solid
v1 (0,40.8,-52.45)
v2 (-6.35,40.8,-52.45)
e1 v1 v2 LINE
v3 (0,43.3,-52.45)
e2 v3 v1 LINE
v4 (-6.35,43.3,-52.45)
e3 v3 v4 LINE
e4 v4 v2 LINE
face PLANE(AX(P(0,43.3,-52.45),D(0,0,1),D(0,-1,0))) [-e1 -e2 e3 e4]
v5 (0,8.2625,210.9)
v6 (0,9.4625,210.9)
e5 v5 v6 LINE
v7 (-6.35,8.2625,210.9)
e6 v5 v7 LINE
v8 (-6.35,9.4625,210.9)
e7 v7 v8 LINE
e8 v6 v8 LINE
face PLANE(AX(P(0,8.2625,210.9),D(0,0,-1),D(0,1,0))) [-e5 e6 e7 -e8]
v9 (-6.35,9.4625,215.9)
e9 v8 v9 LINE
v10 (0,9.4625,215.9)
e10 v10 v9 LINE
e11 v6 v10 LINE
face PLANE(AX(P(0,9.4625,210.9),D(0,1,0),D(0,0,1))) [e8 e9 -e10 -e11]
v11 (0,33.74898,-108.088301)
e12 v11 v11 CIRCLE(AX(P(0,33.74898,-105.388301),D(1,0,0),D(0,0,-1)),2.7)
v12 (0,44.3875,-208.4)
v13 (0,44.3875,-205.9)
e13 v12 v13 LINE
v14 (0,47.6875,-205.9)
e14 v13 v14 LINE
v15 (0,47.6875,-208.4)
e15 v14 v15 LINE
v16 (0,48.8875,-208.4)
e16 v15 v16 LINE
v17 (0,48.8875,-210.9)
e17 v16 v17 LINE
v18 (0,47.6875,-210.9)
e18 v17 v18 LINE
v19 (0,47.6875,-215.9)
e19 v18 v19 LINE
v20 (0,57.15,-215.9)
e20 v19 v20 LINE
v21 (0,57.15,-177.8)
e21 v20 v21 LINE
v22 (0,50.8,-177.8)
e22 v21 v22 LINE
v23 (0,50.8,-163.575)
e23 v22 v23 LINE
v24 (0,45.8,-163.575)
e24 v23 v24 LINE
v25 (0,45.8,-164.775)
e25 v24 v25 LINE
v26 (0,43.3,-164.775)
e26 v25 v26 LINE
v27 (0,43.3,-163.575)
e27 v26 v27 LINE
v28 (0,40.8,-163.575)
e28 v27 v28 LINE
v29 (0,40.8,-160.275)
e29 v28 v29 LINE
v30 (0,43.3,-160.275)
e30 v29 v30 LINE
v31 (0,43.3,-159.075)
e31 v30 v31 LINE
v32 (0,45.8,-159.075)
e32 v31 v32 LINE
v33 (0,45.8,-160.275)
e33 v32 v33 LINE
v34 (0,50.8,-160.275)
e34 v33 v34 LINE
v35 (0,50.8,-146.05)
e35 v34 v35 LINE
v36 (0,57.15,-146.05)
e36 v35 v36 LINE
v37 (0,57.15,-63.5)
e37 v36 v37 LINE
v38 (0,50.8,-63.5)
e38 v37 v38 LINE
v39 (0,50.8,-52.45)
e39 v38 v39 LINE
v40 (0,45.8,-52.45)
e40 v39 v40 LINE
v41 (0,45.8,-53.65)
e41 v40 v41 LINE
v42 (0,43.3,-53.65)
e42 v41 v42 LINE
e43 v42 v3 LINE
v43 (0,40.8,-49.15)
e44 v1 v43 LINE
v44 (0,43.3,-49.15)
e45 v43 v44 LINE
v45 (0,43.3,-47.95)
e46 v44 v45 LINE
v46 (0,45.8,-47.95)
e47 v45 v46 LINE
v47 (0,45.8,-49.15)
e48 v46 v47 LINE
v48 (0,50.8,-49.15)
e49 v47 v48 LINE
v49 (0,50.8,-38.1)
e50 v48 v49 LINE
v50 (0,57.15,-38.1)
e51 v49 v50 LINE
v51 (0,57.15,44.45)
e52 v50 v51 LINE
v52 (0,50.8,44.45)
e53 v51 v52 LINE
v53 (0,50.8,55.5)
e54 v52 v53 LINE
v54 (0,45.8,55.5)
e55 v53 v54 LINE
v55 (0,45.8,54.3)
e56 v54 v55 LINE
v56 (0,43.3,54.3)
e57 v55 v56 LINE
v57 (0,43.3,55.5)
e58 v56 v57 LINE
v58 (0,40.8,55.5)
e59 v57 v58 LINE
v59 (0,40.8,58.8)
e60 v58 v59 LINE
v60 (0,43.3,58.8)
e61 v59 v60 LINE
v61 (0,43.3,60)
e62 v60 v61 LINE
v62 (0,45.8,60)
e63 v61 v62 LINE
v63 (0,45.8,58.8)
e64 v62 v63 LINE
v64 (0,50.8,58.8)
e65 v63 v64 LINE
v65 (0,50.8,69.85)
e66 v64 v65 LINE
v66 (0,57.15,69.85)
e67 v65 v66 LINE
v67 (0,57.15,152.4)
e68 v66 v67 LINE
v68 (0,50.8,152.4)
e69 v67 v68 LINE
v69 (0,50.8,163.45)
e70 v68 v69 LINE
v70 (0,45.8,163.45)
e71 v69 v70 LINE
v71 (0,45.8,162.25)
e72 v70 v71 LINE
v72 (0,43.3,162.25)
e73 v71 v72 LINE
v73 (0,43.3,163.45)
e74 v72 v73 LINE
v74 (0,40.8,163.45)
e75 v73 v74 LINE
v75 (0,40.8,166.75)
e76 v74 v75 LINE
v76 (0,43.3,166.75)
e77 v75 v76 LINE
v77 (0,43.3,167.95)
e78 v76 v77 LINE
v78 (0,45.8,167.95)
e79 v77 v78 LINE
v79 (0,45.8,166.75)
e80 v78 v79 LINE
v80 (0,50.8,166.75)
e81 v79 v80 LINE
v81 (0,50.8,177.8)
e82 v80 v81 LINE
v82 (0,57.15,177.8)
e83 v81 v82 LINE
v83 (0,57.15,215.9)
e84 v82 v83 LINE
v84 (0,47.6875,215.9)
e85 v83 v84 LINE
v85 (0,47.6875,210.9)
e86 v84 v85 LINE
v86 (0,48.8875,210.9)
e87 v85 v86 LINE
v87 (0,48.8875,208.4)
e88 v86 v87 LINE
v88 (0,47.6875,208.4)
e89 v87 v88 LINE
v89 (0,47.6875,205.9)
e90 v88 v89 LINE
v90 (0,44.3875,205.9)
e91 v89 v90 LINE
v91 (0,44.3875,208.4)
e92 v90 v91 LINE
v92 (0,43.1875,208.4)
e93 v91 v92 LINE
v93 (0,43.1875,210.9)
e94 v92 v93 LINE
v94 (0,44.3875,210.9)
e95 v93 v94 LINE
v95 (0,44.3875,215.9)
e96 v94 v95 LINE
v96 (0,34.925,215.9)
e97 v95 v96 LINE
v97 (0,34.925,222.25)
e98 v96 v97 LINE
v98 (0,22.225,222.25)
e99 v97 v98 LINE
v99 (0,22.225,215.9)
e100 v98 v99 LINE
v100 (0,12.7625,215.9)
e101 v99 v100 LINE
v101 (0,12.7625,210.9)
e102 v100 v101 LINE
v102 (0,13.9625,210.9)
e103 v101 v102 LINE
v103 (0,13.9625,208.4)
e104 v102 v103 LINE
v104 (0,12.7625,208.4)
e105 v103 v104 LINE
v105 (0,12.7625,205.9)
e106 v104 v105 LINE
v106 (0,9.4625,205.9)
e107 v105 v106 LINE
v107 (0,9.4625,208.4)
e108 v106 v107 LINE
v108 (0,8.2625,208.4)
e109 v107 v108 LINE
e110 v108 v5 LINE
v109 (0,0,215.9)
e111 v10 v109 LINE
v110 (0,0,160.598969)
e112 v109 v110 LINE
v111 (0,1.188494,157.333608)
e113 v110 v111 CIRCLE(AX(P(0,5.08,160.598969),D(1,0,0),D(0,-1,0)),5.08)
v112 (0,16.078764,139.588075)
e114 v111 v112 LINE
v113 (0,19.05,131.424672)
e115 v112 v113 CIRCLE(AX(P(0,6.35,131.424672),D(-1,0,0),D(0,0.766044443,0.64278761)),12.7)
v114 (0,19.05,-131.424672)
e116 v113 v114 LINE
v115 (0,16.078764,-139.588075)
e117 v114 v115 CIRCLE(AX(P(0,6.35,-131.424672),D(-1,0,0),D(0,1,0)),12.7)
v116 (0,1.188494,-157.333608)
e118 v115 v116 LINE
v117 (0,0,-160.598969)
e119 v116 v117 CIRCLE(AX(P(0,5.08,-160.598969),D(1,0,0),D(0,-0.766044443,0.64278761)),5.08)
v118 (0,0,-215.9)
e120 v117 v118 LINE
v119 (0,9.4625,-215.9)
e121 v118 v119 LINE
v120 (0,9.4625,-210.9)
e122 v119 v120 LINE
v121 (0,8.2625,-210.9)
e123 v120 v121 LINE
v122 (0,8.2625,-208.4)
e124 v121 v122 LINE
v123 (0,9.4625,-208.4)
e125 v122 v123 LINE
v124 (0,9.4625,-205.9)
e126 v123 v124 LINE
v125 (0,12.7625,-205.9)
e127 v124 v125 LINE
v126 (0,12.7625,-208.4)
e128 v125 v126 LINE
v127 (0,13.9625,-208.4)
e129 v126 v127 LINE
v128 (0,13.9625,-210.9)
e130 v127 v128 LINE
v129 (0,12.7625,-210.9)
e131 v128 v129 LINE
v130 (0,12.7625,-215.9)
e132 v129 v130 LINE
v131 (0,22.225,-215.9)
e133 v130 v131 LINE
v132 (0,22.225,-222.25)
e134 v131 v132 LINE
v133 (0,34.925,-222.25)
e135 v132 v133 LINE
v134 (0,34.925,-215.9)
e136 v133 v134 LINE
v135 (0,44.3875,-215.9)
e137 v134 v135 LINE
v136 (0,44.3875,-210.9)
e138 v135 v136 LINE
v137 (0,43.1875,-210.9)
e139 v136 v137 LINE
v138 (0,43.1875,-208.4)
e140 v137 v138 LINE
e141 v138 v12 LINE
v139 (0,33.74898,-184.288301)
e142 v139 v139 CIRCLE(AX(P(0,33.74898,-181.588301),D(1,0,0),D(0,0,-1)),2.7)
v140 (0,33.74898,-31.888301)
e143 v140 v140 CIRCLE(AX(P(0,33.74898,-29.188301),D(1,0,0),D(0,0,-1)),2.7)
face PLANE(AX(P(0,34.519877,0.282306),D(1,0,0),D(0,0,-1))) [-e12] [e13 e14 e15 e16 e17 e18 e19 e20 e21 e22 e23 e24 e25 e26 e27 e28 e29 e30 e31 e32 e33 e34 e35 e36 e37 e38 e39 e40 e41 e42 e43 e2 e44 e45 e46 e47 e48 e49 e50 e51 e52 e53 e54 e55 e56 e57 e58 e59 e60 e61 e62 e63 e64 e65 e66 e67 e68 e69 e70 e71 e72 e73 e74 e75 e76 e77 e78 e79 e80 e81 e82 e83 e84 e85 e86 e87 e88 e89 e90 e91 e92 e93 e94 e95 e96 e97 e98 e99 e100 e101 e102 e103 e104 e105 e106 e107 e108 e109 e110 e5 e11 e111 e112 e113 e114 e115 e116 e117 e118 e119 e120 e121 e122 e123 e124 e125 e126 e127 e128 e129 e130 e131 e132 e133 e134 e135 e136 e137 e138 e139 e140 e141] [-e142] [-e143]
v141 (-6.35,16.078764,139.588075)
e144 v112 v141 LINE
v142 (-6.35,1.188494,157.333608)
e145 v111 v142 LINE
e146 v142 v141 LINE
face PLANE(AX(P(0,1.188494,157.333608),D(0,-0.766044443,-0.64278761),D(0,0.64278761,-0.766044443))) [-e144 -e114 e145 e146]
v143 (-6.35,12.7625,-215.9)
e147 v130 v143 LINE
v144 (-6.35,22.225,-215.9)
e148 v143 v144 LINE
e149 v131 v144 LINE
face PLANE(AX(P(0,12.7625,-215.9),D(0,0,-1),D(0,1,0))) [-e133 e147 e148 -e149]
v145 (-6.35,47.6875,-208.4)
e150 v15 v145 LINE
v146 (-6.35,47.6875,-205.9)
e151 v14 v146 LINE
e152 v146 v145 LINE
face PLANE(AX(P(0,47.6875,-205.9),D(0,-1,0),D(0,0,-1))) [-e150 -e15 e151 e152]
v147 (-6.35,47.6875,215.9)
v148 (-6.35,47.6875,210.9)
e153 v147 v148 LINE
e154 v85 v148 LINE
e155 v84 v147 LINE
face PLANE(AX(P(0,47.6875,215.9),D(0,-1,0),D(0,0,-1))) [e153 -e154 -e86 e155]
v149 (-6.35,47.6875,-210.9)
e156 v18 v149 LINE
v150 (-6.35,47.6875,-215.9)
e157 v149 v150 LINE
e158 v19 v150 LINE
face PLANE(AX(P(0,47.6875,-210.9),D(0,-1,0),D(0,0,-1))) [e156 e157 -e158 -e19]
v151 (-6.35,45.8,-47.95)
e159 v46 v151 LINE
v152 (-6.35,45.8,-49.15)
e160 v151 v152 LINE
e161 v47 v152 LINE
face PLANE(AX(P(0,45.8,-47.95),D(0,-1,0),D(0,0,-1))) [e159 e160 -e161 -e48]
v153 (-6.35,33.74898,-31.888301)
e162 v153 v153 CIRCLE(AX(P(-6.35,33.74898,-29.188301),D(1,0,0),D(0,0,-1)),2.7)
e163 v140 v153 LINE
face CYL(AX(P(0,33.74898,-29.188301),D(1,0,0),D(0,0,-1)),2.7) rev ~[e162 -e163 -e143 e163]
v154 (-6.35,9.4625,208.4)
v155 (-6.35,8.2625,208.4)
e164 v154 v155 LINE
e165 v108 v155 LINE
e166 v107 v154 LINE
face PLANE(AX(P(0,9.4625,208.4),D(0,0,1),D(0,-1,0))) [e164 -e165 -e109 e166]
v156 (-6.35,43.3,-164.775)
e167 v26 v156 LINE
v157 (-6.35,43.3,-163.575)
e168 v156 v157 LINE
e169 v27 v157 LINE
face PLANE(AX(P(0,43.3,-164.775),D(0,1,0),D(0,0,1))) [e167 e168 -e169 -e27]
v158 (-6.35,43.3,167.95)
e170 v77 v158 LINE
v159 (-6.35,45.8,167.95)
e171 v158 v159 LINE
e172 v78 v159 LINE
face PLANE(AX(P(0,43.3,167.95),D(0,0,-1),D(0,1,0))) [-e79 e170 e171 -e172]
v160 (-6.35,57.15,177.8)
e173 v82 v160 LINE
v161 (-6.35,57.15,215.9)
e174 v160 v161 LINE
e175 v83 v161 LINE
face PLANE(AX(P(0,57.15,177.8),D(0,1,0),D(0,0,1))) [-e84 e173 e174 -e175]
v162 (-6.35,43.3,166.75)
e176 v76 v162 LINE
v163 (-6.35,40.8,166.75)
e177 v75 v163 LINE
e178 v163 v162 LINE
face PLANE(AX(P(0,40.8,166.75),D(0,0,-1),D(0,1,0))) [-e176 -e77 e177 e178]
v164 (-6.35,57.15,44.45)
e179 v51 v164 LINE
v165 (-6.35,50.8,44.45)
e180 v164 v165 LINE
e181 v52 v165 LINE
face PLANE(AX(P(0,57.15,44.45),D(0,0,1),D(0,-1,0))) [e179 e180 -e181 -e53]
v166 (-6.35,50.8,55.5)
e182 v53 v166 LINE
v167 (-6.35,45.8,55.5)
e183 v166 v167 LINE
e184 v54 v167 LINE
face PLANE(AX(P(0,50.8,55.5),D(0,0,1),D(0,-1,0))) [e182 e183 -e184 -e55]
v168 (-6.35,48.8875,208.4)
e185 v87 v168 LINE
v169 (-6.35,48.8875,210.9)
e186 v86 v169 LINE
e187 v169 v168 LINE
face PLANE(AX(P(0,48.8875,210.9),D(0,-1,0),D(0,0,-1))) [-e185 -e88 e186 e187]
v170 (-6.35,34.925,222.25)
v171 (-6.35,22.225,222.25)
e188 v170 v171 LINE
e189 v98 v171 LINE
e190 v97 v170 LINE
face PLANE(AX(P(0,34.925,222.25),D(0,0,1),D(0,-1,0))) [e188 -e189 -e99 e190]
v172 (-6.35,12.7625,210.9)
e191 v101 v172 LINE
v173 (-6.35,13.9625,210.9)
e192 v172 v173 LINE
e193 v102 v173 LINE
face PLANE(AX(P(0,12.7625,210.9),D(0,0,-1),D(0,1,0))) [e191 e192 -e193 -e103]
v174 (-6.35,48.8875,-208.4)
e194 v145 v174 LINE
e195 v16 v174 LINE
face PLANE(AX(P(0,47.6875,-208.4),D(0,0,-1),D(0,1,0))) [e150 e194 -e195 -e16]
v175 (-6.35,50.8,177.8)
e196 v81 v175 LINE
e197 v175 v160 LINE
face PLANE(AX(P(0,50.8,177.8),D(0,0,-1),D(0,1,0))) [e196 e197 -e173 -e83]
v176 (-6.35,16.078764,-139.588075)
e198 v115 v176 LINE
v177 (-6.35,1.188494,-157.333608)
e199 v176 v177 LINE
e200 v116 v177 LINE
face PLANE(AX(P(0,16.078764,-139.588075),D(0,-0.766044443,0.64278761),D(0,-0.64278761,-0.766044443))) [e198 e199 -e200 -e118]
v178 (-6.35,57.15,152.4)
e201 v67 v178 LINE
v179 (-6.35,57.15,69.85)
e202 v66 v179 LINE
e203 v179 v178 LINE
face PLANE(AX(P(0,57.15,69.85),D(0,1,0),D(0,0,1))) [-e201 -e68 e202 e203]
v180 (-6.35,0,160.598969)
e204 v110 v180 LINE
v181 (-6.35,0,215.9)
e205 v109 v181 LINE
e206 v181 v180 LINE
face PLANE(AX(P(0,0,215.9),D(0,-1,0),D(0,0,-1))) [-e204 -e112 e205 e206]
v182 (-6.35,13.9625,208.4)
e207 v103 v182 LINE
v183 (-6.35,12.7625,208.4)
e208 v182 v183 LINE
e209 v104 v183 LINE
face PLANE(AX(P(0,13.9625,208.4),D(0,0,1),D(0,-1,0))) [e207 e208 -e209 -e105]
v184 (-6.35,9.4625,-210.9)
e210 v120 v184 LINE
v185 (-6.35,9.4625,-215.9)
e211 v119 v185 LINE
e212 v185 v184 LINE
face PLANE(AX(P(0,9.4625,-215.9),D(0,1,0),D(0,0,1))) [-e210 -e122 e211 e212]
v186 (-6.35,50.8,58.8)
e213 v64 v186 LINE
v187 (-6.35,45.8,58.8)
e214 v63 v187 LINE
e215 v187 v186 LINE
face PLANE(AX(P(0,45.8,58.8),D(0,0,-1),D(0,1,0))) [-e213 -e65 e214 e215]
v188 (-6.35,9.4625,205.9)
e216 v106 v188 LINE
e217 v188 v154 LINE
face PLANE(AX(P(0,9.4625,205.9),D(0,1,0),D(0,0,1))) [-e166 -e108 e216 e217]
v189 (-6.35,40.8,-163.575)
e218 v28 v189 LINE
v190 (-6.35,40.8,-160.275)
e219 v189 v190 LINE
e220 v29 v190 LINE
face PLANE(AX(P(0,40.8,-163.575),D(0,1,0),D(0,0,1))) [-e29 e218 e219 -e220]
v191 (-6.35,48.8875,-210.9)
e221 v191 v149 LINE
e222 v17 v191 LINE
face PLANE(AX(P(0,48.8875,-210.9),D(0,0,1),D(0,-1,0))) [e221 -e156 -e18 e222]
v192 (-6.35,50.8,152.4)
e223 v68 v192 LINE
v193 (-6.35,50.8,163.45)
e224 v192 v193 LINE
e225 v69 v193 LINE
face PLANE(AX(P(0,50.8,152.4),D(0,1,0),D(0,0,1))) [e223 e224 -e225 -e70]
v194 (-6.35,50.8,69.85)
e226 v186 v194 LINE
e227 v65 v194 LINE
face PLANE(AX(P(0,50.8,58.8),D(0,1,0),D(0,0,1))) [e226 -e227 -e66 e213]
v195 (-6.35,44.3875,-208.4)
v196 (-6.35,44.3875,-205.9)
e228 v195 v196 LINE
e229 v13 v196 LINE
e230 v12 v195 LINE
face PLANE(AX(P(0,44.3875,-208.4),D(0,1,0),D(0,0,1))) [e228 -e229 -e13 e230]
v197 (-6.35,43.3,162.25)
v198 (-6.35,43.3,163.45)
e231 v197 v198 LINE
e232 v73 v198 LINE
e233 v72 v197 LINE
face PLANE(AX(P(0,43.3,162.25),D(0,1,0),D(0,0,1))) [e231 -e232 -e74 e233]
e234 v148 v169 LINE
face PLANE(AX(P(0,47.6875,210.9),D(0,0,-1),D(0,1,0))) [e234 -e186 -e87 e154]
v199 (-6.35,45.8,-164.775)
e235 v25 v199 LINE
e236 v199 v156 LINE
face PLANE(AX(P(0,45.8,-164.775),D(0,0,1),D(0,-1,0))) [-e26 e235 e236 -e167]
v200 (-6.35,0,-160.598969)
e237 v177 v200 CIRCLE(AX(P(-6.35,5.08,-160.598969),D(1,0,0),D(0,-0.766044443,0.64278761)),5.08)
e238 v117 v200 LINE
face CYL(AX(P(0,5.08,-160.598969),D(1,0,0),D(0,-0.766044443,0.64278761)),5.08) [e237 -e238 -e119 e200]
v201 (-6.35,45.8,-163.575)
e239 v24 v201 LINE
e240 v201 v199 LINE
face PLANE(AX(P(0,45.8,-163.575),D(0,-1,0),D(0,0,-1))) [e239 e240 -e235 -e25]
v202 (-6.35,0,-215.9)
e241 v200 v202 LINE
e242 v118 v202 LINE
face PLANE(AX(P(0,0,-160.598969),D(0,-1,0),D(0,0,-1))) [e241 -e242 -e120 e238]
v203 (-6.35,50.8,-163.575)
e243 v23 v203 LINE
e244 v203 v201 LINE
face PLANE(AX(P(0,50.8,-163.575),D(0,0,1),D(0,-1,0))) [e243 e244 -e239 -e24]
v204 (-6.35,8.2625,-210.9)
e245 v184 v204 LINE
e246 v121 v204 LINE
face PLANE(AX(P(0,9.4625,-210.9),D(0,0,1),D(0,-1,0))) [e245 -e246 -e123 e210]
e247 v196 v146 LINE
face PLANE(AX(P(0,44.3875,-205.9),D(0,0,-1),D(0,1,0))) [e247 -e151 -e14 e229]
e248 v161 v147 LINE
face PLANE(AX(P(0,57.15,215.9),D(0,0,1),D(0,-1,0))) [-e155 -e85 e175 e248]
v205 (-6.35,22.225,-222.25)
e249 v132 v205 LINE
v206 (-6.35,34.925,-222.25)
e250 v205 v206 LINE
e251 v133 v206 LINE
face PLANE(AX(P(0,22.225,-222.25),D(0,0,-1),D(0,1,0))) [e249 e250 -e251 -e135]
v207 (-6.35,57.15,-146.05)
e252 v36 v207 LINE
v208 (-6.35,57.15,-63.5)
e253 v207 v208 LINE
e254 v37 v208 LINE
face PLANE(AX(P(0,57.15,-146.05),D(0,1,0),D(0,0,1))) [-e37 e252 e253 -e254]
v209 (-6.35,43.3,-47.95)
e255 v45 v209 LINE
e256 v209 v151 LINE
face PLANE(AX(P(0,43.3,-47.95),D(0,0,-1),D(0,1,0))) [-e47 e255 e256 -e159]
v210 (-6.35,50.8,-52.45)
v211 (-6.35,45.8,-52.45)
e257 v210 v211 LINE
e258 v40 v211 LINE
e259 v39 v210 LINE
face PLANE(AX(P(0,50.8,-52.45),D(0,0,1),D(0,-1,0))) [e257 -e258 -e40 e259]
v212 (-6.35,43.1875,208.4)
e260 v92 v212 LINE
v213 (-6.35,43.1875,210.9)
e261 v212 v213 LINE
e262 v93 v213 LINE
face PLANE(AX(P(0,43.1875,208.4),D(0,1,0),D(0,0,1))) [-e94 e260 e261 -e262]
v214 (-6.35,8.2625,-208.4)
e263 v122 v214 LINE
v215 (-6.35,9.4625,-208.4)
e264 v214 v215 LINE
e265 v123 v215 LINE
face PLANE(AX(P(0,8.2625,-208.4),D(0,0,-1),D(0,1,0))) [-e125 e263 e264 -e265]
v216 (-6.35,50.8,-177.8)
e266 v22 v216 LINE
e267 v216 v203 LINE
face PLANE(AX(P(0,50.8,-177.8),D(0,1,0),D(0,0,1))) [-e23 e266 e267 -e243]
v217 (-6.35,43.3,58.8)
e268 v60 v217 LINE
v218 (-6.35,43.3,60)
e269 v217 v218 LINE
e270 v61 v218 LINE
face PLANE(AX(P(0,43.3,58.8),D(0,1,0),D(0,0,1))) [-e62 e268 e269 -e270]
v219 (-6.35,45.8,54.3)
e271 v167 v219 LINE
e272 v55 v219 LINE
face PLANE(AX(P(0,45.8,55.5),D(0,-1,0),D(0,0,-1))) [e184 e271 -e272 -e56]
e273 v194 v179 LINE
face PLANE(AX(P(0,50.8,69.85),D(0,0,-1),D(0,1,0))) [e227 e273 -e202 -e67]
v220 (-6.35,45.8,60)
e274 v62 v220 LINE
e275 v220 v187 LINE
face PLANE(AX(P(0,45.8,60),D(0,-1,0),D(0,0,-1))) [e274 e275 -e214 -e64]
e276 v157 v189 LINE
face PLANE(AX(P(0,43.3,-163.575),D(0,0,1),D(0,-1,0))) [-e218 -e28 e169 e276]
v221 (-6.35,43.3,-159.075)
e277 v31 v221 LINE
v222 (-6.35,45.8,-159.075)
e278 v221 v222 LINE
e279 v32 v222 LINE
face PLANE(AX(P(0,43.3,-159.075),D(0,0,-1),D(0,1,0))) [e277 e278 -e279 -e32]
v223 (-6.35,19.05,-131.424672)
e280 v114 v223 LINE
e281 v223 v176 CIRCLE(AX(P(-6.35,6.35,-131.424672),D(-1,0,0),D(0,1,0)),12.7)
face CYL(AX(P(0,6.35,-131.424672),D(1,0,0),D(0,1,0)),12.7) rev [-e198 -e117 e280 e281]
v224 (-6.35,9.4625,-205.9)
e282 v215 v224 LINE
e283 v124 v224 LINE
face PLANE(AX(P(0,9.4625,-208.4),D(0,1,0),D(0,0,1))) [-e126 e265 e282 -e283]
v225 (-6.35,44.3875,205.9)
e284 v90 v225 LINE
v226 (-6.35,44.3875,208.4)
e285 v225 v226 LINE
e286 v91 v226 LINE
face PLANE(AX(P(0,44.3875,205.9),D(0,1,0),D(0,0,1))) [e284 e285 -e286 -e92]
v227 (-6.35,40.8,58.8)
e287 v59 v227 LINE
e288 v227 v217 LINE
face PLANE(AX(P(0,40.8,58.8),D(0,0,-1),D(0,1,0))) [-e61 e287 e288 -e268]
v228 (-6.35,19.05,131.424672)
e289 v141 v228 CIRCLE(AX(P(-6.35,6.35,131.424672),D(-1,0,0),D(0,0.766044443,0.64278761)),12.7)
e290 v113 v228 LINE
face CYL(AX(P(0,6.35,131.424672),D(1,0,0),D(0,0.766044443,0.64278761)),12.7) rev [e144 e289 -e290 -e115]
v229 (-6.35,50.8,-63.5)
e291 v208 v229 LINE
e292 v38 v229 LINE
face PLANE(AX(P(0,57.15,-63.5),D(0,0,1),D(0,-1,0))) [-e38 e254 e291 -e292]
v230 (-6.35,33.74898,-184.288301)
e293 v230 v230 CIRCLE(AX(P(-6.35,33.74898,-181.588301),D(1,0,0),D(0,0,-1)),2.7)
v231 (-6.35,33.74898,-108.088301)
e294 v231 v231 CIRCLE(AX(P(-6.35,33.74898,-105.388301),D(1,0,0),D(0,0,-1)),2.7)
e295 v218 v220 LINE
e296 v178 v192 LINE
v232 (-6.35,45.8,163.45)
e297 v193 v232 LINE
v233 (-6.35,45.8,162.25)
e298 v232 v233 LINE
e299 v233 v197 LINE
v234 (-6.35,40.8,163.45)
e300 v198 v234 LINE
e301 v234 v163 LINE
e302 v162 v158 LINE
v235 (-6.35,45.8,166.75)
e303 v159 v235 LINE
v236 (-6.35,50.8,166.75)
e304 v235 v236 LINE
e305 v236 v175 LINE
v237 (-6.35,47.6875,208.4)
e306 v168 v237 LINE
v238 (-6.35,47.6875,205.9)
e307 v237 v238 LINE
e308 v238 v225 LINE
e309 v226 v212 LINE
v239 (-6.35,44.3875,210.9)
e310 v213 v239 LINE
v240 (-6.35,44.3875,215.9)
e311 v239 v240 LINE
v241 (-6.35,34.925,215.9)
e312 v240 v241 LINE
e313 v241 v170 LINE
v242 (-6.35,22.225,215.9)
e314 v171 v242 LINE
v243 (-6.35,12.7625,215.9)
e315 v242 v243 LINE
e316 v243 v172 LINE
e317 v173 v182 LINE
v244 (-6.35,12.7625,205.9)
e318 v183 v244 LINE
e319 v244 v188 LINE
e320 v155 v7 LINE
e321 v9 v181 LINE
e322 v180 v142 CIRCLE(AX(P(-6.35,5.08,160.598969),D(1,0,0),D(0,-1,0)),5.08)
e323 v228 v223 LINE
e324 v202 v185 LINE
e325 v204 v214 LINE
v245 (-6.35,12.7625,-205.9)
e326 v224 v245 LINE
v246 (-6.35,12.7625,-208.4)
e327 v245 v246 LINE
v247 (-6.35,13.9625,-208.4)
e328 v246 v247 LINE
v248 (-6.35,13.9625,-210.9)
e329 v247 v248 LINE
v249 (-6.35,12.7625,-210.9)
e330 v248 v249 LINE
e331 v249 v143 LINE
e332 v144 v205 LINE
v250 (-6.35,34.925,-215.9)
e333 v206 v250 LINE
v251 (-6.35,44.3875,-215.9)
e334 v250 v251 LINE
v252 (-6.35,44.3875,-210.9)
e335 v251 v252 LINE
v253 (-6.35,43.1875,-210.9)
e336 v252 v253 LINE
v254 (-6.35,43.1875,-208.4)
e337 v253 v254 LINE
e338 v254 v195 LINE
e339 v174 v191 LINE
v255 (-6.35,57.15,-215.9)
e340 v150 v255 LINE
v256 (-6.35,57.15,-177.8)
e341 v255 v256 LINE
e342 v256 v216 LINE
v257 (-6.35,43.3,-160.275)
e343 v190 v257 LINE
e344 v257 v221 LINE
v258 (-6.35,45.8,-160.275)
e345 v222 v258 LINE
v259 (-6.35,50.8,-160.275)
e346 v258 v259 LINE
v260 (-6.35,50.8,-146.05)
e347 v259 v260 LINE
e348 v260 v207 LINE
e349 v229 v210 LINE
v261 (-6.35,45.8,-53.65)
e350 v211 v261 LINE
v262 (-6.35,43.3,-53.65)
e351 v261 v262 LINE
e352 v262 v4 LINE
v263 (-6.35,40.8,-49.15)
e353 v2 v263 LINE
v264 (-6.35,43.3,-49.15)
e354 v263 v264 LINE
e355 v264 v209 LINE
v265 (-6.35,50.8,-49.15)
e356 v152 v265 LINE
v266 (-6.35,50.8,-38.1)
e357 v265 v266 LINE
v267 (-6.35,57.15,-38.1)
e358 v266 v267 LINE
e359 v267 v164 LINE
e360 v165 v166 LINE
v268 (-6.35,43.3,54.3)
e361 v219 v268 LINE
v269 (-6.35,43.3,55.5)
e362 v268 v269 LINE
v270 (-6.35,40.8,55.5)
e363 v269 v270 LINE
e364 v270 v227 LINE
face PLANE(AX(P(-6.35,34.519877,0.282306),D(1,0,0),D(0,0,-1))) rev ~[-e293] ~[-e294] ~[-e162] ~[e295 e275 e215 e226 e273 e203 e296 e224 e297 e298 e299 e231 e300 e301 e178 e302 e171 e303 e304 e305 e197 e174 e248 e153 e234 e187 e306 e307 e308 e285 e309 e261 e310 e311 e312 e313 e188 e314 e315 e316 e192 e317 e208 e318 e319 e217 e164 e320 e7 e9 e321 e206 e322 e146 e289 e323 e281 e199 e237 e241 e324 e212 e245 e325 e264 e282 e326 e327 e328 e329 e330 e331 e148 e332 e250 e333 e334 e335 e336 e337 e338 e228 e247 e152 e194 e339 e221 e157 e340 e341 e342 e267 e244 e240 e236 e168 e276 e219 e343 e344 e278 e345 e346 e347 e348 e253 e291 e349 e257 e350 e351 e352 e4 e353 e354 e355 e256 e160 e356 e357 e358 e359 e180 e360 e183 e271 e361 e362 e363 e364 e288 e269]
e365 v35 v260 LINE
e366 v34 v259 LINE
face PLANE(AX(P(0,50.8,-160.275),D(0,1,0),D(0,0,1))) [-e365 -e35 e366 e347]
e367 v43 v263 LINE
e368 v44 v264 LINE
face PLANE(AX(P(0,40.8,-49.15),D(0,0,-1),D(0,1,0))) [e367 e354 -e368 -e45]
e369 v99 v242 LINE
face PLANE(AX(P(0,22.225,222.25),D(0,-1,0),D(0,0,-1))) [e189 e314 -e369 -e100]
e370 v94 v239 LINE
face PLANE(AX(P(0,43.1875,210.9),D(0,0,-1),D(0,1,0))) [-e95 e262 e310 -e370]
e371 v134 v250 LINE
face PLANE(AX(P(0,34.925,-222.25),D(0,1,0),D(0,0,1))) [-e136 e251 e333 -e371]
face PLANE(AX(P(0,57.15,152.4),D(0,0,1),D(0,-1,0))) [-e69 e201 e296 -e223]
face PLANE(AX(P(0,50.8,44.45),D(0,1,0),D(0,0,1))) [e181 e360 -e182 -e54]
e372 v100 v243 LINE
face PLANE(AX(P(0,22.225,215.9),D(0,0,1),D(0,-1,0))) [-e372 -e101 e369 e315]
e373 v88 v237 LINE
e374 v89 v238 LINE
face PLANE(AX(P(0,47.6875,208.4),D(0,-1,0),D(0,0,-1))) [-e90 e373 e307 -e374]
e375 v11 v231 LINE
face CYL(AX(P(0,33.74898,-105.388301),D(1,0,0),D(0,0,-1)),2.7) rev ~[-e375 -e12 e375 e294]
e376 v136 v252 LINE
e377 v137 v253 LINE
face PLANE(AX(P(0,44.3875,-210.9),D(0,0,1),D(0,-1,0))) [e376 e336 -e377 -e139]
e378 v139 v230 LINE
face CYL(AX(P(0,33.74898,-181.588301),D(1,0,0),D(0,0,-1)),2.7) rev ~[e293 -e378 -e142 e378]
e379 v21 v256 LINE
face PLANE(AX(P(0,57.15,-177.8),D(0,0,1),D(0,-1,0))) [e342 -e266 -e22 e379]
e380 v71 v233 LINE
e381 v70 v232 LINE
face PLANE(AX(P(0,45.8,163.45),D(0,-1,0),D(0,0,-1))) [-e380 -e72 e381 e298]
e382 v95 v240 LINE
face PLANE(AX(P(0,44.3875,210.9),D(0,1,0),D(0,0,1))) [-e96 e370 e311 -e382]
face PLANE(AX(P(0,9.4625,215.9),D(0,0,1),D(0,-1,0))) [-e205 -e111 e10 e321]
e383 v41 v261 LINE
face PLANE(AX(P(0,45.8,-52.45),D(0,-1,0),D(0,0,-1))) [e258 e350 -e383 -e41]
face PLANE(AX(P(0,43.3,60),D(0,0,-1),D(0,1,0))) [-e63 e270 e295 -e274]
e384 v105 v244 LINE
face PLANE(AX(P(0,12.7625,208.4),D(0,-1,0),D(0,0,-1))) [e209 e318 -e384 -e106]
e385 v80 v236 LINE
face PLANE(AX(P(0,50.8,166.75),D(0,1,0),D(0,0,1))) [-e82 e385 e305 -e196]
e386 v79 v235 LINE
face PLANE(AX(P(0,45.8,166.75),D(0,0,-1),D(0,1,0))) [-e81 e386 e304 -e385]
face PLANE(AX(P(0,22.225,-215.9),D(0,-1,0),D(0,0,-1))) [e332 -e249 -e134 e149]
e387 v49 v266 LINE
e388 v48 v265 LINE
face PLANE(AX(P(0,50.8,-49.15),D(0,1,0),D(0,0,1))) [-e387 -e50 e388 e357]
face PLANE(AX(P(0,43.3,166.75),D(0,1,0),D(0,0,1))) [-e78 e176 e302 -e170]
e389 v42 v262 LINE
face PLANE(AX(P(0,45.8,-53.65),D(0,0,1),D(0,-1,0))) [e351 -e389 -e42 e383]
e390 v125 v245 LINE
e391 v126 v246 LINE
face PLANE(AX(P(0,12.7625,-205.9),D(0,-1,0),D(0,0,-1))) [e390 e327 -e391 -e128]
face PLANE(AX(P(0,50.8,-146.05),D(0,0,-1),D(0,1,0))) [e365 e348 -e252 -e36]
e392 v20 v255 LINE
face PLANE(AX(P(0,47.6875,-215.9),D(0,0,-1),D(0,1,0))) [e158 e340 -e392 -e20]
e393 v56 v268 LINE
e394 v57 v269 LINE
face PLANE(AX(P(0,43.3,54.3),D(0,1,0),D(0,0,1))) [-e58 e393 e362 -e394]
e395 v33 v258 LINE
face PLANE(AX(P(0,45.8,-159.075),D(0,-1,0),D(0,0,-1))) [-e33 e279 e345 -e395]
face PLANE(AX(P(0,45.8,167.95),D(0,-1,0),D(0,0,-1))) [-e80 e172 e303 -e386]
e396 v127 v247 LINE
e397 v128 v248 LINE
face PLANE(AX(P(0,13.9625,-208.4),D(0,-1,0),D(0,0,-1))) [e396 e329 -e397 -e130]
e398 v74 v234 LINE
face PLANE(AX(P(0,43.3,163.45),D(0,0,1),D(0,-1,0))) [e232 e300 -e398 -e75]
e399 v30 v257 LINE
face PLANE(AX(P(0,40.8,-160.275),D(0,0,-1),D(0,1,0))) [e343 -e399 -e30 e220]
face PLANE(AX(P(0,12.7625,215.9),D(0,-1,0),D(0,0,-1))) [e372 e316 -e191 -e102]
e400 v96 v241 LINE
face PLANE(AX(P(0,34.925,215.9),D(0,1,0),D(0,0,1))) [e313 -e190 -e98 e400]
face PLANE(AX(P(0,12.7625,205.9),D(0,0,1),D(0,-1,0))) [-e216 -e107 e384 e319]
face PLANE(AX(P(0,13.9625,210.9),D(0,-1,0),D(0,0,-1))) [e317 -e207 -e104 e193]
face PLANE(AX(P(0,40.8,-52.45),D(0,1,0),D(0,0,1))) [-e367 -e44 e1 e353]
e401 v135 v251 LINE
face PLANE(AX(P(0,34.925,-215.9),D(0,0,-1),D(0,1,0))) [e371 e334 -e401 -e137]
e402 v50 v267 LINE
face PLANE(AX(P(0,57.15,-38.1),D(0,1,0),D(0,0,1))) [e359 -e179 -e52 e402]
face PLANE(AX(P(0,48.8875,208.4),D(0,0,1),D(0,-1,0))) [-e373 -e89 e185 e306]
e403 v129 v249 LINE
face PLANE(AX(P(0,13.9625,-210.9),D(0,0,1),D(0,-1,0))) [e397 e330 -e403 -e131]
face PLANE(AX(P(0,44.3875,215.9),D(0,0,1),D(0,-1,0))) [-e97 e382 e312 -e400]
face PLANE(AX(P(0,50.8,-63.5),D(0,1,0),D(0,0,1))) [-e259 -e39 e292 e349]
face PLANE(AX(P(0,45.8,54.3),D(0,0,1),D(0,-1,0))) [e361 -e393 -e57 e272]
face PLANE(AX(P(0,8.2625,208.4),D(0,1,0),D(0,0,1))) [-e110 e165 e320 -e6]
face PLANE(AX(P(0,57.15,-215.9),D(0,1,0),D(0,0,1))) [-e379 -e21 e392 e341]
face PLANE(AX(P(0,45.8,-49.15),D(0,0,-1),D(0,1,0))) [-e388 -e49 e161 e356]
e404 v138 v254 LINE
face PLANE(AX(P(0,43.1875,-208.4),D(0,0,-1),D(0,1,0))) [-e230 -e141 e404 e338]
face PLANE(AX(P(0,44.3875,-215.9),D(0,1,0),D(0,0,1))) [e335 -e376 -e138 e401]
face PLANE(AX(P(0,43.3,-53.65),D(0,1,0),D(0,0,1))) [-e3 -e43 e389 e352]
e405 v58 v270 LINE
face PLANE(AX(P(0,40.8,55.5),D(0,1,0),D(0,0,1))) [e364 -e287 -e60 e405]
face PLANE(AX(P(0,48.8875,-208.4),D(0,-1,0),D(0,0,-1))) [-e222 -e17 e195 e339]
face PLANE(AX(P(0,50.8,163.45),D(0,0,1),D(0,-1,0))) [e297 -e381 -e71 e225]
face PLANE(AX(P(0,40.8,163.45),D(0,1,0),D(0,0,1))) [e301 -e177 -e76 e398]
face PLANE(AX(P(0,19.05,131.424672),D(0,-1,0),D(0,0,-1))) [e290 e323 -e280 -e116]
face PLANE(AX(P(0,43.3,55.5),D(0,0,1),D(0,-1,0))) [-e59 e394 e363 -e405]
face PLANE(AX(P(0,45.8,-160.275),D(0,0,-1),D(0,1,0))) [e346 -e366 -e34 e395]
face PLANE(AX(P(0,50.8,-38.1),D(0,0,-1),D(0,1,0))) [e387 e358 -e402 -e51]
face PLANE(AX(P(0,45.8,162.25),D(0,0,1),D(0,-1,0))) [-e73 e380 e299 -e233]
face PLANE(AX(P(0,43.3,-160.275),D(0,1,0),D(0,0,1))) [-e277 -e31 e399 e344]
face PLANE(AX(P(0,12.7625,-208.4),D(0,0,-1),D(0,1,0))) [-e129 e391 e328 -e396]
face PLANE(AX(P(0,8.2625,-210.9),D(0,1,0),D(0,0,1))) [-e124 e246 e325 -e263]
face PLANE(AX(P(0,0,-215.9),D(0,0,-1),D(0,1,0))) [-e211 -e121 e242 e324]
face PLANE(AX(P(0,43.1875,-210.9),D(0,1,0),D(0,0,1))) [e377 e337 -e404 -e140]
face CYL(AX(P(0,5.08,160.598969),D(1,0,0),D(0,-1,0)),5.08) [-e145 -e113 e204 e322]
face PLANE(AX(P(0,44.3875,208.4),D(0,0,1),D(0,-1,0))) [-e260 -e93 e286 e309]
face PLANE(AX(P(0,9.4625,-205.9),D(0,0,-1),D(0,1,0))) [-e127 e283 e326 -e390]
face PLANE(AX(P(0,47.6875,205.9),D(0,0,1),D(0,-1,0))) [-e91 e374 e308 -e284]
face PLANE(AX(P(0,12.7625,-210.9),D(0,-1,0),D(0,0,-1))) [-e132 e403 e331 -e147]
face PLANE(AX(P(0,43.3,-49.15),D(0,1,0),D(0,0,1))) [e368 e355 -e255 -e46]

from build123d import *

# Parameters (mm, degrees)
SKETCH1_R           = 2.7
BOSS_EXTRUDE1_DEPTH = 6.35


with BuildPart() as part:
    # Sketch1 → Boss-Extrude1 (new body)
    with BuildSketch(Plane(origin=(0, 0, 0), x_dir=(0, 0, -1), z_dir=(1, 0, 0))):
        with BuildLine():
            Line((-44.45, 57.15), (-44.45, 50.8))
            Line((-44.45, 50.8), (-55.5, 50.8))
            Line((-55.5, 50.8), (-55.5, 45.8))
            Line((-55.5, 45.8), (-54.3, 45.8))
            Line((-54.3, 45.8), (-54.3, 43.3))
            Line((-54.3, 43.3), (-55.5, 43.3))
            Line((-55.5, 43.3), (-55.5, 40.8))
            Line((-55.5, 40.8), (-58.8, 40.8))
            Line((-58.8, 40.8), (-58.8, 43.3))
            Line((-58.8, 43.3), (-60, 43.3))
            Line((-60, 43.3), (-60, 45.8))
            Line((-60, 45.8), (-58.8, 45.8))
            Line((-58.8, 45.8), (-58.8, 50.8))
            Line((-58.8, 50.8), (-69.85, 50.8))
            Line((-69.85, 50.8), (-69.85, 57.15))
            Line((-69.85, 57.15), (-152.4, 57.15))
            Line((-152.4, 57.15), (-152.4, 50.8))
            Line((-152.4, 50.8), (-163.45, 50.8))
            Line((-163.45, 50.8), (-163.45, 45.8))
            Line((-163.45, 45.8), (-162.25, 45.8))
            Line((-162.25, 45.8), (-162.25, 43.3))
            Line((-162.25, 43.3), (-163.45, 43.3))
            Line((-163.45, 43.3), (-163.45, 40.8))
            Line((-163.45, 40.8), (-166.75, 40.8))
            Line((-166.75, 40.8), (-166.75, 43.3))
            Line((-166.75, 43.3), (-167.95, 43.3))
            Line((-167.95, 43.3), (-167.95, 45.8))
            Line((-167.95, 45.8), (-166.75, 45.8))
            Line((-166.75, 45.8), (-166.75, 50.8))
            Line((-166.75, 50.8), (-177.8, 50.8))
            Line((-177.8, 50.8), (-177.8, 57.15))
            Line((-177.8, 57.15), (-215.9, 57.15))
            Line((-215.9, 57.15), (-215.9, 47.6875))
            Line((-215.9, 47.6875), (-210.9, 47.6875))
            Line((-210.9, 47.6875), (-210.9, 48.8875))
            Line((-210.9, 48.8875), (-208.4, 48.8875))
            Line((-208.4, 48.8875), (-208.4, 47.6875))
            Line((-208.4, 47.6875), (-205.9, 47.6875))
            Line((-205.9, 47.6875), (-205.9, 44.3875))
            Line((-205.9, 44.3875), (-208.4, 44.3875))
            Line((-208.4, 44.3875), (-208.4, 43.1875))
            Line((-208.4, 43.1875), (-210.9, 43.1875))
            Line((-210.9, 43.1875), (-210.9, 44.3875))
            Line((-210.9, 44.3875), (-215.9, 44.3875))
            Line((-215.9, 44.3875), (-215.9, 34.925))
            Line((-215.9, 34.925), (-222.25, 34.925))
            Line((-222.25, 34.925), (-222.25, 22.225))
            Line((-222.25, 22.225), (-215.9, 22.225))
            Line((-215.9, 22.225), (-215.9, 12.7625))
            Line((-215.9, 12.7625), (-210.9, 12.7625))
            Line((-210.9, 12.7625), (-210.9, 13.9625))
            Line((-210.9, 13.9625), (-208.4, 13.9625))
            Line((-208.4, 13.9625), (-208.4, 12.7625))
            Line((-208.4, 12.7625), (-205.9, 12.7625))
            Line((-205.9, 12.7625), (-205.9, 9.4625))
            Line((-205.9, 9.4625), (-208.4, 9.4625))
            Line((-208.4, 9.4625), (-208.4, 8.2625))
            Line((-208.4, 8.2625), (-210.9, 8.2625))
            Line((-210.9, 8.2625), (-210.9, 9.4625))
            Line((-210.9, 9.4625), (-215.9, 9.4625))
            Line((-215.9, 9.4625), (-215.9, 0))
            Line((-215.9, 0), (-160.59896879, 0))
            ThreePointArc((-160.59896879, 0), (-158.861506462, 0.306361486), (-157.333607733, 1.188494229))
            Line((-157.333607733, 1.188494229), (-139.588074729, 16.078764428))
            ThreePointArc((-139.588074729, 16.078764428), (-135.768327906, 18.284096284), (-131.424672086, 19.05))
            Line((-131.424672086, 19.05), (131.424672086, 19.05))
            ThreePointArc((131.424672086, 19.05), (135.768327906, 18.284096284), (139.588074729, 16.078764428))
            Line((139.588074729, 16.078764428), (157.333607733, 1.188494229))
            ThreePointArc((157.333607733, 1.188494229), (158.861506462, 0.306361486), (160.59896879, 0))
            Line((160.59896879, 0), (215.9, 0))
            Line((215.9, 0), (215.9, 9.4625))
            Line((215.9, 9.4625), (210.9, 9.4625))
            Line((210.9, 9.4625), (210.9, 8.2625))
            Line((210.9, 8.2625), (208.4, 8.2625))
            Line((208.4, 8.2625), (208.4, 9.4625))
            Line((208.4, 9.4625), (205.9, 9.4625))
            Line((205.9, 9.4625), (205.9, 12.7625))
            Line((205.9, 12.7625), (208.4, 12.7625))
            Line((208.4, 12.7625), (208.4, 13.9625))
            Line((208.4, 13.9625), (210.9, 13.9625))
            Line((210.9, 13.9625), (210.9, 12.7625))
            Line((210.9, 12.7625), (215.9, 12.7625))
            Line((215.9, 12.7625), (215.9, 22.225))
            Line((215.9, 22.225), (222.25, 22.225))
            Line((222.25, 22.225), (222.25, 34.925))
            Line((222.25, 34.925), (215.9, 34.925))
            Line((215.9, 34.925), (215.9, 44.3875))
            Line((215.9, 44.3875), (210.9, 44.3875))
            Line((210.9, 44.3875), (210.9, 43.1875))
            Line((210.9, 43.1875), (208.4, 43.1875))
            Line((208.4, 43.1875), (208.4, 44.3875))
            Line((208.4, 44.3875), (205.9, 44.3875))
            Line((205.9, 44.3875), (205.9, 47.6875))
            Line((205.9, 47.6875), (208.4, 47.6875))
            Line((208.4, 47.6875), (208.4, 48.8875))
            Line((208.4, 48.8875), (210.9, 48.8875))
            Line((210.9, 48.8875), (210.9, 47.6875))
            Line((210.9, 47.6875), (215.9, 47.6875))
            Line((215.9, 47.6875), (215.9, 57.15))
            Line((215.9, 57.15), (177.8, 57.15))
            Line((177.8, 57.15), (177.8, 50.8))
            Line((177.8, 50.8), (163.575, 50.8))
            Line((163.575, 50.8), (163.575, 45.8))
            Line((163.575, 45.8), (164.775, 45.8))
            Line((164.775, 45.8), (164.775, 43.3))
            Line((164.775, 43.3), (163.575, 43.3))
            Line((163.575, 43.3), (163.575, 40.8))
            Line((163.575, 40.8), (160.275, 40.8))
            Line((160.275, 40.8), (160.275, 43.3))
            Line((160.275, 43.3), (159.075, 43.3))
            Line((159.075, 43.3), (159.075, 45.8))
            Line((159.075, 45.8), (160.275, 45.8))
            Line((160.275, 45.8), (160.275, 50.8))
            Line((160.275, 50.8), (146.05, 50.8))
            Line((146.05, 50.8), (146.05, 57.15))
            Line((146.05, 57.15), (63.5, 57.15))
            Line((63.5, 57.15), (63.5, 50.8))
            Line((63.5, 50.8), (52.45, 50.8))
            Line((52.45, 50.8), (52.45, 45.8))
            Line((52.45, 45.8), (53.65, 45.8))
            Line((53.65, 45.8), (53.65, 43.3))
            Line((53.65, 43.3), (52.45, 43.3))
            Line((52.45, 43.3), (52.45, 40.8))
            Line((52.45, 40.8), (49.15, 40.8))
            Line((49.15, 40.8), (49.15, 43.3))
            Line((49.15, 43.3), (47.95, 43.3))
            Line((47.95, 43.3), (47.95, 45.8))
            Line((47.95, 45.8), (49.15, 45.8))
            Line((49.15, 45.8), (49.15, 50.8))
            Line((49.15, 50.8), (38.1, 50.8))
            Line((38.1, 50.8), (38.1, 57.15))
            Line((38.1, 57.15), (-44.45, 57.15))
        make_face()
        with Locations((105.388301448, 33.74898)):
            Circle(SKETCH1_R, mode=Mode.SUBTRACT)
        with Locations((29.188301448, 33.74898)):
            Circle(SKETCH1_R, mode=Mode.SUBTRACT)
        with Locations((181.588301448, 33.74898)):
            Circle(SKETCH1_R, mode=Mode.SUBTRACT)
    extrude(amount=-BOSS_EXTRUDE1_DEPTH)


solid = part.part
